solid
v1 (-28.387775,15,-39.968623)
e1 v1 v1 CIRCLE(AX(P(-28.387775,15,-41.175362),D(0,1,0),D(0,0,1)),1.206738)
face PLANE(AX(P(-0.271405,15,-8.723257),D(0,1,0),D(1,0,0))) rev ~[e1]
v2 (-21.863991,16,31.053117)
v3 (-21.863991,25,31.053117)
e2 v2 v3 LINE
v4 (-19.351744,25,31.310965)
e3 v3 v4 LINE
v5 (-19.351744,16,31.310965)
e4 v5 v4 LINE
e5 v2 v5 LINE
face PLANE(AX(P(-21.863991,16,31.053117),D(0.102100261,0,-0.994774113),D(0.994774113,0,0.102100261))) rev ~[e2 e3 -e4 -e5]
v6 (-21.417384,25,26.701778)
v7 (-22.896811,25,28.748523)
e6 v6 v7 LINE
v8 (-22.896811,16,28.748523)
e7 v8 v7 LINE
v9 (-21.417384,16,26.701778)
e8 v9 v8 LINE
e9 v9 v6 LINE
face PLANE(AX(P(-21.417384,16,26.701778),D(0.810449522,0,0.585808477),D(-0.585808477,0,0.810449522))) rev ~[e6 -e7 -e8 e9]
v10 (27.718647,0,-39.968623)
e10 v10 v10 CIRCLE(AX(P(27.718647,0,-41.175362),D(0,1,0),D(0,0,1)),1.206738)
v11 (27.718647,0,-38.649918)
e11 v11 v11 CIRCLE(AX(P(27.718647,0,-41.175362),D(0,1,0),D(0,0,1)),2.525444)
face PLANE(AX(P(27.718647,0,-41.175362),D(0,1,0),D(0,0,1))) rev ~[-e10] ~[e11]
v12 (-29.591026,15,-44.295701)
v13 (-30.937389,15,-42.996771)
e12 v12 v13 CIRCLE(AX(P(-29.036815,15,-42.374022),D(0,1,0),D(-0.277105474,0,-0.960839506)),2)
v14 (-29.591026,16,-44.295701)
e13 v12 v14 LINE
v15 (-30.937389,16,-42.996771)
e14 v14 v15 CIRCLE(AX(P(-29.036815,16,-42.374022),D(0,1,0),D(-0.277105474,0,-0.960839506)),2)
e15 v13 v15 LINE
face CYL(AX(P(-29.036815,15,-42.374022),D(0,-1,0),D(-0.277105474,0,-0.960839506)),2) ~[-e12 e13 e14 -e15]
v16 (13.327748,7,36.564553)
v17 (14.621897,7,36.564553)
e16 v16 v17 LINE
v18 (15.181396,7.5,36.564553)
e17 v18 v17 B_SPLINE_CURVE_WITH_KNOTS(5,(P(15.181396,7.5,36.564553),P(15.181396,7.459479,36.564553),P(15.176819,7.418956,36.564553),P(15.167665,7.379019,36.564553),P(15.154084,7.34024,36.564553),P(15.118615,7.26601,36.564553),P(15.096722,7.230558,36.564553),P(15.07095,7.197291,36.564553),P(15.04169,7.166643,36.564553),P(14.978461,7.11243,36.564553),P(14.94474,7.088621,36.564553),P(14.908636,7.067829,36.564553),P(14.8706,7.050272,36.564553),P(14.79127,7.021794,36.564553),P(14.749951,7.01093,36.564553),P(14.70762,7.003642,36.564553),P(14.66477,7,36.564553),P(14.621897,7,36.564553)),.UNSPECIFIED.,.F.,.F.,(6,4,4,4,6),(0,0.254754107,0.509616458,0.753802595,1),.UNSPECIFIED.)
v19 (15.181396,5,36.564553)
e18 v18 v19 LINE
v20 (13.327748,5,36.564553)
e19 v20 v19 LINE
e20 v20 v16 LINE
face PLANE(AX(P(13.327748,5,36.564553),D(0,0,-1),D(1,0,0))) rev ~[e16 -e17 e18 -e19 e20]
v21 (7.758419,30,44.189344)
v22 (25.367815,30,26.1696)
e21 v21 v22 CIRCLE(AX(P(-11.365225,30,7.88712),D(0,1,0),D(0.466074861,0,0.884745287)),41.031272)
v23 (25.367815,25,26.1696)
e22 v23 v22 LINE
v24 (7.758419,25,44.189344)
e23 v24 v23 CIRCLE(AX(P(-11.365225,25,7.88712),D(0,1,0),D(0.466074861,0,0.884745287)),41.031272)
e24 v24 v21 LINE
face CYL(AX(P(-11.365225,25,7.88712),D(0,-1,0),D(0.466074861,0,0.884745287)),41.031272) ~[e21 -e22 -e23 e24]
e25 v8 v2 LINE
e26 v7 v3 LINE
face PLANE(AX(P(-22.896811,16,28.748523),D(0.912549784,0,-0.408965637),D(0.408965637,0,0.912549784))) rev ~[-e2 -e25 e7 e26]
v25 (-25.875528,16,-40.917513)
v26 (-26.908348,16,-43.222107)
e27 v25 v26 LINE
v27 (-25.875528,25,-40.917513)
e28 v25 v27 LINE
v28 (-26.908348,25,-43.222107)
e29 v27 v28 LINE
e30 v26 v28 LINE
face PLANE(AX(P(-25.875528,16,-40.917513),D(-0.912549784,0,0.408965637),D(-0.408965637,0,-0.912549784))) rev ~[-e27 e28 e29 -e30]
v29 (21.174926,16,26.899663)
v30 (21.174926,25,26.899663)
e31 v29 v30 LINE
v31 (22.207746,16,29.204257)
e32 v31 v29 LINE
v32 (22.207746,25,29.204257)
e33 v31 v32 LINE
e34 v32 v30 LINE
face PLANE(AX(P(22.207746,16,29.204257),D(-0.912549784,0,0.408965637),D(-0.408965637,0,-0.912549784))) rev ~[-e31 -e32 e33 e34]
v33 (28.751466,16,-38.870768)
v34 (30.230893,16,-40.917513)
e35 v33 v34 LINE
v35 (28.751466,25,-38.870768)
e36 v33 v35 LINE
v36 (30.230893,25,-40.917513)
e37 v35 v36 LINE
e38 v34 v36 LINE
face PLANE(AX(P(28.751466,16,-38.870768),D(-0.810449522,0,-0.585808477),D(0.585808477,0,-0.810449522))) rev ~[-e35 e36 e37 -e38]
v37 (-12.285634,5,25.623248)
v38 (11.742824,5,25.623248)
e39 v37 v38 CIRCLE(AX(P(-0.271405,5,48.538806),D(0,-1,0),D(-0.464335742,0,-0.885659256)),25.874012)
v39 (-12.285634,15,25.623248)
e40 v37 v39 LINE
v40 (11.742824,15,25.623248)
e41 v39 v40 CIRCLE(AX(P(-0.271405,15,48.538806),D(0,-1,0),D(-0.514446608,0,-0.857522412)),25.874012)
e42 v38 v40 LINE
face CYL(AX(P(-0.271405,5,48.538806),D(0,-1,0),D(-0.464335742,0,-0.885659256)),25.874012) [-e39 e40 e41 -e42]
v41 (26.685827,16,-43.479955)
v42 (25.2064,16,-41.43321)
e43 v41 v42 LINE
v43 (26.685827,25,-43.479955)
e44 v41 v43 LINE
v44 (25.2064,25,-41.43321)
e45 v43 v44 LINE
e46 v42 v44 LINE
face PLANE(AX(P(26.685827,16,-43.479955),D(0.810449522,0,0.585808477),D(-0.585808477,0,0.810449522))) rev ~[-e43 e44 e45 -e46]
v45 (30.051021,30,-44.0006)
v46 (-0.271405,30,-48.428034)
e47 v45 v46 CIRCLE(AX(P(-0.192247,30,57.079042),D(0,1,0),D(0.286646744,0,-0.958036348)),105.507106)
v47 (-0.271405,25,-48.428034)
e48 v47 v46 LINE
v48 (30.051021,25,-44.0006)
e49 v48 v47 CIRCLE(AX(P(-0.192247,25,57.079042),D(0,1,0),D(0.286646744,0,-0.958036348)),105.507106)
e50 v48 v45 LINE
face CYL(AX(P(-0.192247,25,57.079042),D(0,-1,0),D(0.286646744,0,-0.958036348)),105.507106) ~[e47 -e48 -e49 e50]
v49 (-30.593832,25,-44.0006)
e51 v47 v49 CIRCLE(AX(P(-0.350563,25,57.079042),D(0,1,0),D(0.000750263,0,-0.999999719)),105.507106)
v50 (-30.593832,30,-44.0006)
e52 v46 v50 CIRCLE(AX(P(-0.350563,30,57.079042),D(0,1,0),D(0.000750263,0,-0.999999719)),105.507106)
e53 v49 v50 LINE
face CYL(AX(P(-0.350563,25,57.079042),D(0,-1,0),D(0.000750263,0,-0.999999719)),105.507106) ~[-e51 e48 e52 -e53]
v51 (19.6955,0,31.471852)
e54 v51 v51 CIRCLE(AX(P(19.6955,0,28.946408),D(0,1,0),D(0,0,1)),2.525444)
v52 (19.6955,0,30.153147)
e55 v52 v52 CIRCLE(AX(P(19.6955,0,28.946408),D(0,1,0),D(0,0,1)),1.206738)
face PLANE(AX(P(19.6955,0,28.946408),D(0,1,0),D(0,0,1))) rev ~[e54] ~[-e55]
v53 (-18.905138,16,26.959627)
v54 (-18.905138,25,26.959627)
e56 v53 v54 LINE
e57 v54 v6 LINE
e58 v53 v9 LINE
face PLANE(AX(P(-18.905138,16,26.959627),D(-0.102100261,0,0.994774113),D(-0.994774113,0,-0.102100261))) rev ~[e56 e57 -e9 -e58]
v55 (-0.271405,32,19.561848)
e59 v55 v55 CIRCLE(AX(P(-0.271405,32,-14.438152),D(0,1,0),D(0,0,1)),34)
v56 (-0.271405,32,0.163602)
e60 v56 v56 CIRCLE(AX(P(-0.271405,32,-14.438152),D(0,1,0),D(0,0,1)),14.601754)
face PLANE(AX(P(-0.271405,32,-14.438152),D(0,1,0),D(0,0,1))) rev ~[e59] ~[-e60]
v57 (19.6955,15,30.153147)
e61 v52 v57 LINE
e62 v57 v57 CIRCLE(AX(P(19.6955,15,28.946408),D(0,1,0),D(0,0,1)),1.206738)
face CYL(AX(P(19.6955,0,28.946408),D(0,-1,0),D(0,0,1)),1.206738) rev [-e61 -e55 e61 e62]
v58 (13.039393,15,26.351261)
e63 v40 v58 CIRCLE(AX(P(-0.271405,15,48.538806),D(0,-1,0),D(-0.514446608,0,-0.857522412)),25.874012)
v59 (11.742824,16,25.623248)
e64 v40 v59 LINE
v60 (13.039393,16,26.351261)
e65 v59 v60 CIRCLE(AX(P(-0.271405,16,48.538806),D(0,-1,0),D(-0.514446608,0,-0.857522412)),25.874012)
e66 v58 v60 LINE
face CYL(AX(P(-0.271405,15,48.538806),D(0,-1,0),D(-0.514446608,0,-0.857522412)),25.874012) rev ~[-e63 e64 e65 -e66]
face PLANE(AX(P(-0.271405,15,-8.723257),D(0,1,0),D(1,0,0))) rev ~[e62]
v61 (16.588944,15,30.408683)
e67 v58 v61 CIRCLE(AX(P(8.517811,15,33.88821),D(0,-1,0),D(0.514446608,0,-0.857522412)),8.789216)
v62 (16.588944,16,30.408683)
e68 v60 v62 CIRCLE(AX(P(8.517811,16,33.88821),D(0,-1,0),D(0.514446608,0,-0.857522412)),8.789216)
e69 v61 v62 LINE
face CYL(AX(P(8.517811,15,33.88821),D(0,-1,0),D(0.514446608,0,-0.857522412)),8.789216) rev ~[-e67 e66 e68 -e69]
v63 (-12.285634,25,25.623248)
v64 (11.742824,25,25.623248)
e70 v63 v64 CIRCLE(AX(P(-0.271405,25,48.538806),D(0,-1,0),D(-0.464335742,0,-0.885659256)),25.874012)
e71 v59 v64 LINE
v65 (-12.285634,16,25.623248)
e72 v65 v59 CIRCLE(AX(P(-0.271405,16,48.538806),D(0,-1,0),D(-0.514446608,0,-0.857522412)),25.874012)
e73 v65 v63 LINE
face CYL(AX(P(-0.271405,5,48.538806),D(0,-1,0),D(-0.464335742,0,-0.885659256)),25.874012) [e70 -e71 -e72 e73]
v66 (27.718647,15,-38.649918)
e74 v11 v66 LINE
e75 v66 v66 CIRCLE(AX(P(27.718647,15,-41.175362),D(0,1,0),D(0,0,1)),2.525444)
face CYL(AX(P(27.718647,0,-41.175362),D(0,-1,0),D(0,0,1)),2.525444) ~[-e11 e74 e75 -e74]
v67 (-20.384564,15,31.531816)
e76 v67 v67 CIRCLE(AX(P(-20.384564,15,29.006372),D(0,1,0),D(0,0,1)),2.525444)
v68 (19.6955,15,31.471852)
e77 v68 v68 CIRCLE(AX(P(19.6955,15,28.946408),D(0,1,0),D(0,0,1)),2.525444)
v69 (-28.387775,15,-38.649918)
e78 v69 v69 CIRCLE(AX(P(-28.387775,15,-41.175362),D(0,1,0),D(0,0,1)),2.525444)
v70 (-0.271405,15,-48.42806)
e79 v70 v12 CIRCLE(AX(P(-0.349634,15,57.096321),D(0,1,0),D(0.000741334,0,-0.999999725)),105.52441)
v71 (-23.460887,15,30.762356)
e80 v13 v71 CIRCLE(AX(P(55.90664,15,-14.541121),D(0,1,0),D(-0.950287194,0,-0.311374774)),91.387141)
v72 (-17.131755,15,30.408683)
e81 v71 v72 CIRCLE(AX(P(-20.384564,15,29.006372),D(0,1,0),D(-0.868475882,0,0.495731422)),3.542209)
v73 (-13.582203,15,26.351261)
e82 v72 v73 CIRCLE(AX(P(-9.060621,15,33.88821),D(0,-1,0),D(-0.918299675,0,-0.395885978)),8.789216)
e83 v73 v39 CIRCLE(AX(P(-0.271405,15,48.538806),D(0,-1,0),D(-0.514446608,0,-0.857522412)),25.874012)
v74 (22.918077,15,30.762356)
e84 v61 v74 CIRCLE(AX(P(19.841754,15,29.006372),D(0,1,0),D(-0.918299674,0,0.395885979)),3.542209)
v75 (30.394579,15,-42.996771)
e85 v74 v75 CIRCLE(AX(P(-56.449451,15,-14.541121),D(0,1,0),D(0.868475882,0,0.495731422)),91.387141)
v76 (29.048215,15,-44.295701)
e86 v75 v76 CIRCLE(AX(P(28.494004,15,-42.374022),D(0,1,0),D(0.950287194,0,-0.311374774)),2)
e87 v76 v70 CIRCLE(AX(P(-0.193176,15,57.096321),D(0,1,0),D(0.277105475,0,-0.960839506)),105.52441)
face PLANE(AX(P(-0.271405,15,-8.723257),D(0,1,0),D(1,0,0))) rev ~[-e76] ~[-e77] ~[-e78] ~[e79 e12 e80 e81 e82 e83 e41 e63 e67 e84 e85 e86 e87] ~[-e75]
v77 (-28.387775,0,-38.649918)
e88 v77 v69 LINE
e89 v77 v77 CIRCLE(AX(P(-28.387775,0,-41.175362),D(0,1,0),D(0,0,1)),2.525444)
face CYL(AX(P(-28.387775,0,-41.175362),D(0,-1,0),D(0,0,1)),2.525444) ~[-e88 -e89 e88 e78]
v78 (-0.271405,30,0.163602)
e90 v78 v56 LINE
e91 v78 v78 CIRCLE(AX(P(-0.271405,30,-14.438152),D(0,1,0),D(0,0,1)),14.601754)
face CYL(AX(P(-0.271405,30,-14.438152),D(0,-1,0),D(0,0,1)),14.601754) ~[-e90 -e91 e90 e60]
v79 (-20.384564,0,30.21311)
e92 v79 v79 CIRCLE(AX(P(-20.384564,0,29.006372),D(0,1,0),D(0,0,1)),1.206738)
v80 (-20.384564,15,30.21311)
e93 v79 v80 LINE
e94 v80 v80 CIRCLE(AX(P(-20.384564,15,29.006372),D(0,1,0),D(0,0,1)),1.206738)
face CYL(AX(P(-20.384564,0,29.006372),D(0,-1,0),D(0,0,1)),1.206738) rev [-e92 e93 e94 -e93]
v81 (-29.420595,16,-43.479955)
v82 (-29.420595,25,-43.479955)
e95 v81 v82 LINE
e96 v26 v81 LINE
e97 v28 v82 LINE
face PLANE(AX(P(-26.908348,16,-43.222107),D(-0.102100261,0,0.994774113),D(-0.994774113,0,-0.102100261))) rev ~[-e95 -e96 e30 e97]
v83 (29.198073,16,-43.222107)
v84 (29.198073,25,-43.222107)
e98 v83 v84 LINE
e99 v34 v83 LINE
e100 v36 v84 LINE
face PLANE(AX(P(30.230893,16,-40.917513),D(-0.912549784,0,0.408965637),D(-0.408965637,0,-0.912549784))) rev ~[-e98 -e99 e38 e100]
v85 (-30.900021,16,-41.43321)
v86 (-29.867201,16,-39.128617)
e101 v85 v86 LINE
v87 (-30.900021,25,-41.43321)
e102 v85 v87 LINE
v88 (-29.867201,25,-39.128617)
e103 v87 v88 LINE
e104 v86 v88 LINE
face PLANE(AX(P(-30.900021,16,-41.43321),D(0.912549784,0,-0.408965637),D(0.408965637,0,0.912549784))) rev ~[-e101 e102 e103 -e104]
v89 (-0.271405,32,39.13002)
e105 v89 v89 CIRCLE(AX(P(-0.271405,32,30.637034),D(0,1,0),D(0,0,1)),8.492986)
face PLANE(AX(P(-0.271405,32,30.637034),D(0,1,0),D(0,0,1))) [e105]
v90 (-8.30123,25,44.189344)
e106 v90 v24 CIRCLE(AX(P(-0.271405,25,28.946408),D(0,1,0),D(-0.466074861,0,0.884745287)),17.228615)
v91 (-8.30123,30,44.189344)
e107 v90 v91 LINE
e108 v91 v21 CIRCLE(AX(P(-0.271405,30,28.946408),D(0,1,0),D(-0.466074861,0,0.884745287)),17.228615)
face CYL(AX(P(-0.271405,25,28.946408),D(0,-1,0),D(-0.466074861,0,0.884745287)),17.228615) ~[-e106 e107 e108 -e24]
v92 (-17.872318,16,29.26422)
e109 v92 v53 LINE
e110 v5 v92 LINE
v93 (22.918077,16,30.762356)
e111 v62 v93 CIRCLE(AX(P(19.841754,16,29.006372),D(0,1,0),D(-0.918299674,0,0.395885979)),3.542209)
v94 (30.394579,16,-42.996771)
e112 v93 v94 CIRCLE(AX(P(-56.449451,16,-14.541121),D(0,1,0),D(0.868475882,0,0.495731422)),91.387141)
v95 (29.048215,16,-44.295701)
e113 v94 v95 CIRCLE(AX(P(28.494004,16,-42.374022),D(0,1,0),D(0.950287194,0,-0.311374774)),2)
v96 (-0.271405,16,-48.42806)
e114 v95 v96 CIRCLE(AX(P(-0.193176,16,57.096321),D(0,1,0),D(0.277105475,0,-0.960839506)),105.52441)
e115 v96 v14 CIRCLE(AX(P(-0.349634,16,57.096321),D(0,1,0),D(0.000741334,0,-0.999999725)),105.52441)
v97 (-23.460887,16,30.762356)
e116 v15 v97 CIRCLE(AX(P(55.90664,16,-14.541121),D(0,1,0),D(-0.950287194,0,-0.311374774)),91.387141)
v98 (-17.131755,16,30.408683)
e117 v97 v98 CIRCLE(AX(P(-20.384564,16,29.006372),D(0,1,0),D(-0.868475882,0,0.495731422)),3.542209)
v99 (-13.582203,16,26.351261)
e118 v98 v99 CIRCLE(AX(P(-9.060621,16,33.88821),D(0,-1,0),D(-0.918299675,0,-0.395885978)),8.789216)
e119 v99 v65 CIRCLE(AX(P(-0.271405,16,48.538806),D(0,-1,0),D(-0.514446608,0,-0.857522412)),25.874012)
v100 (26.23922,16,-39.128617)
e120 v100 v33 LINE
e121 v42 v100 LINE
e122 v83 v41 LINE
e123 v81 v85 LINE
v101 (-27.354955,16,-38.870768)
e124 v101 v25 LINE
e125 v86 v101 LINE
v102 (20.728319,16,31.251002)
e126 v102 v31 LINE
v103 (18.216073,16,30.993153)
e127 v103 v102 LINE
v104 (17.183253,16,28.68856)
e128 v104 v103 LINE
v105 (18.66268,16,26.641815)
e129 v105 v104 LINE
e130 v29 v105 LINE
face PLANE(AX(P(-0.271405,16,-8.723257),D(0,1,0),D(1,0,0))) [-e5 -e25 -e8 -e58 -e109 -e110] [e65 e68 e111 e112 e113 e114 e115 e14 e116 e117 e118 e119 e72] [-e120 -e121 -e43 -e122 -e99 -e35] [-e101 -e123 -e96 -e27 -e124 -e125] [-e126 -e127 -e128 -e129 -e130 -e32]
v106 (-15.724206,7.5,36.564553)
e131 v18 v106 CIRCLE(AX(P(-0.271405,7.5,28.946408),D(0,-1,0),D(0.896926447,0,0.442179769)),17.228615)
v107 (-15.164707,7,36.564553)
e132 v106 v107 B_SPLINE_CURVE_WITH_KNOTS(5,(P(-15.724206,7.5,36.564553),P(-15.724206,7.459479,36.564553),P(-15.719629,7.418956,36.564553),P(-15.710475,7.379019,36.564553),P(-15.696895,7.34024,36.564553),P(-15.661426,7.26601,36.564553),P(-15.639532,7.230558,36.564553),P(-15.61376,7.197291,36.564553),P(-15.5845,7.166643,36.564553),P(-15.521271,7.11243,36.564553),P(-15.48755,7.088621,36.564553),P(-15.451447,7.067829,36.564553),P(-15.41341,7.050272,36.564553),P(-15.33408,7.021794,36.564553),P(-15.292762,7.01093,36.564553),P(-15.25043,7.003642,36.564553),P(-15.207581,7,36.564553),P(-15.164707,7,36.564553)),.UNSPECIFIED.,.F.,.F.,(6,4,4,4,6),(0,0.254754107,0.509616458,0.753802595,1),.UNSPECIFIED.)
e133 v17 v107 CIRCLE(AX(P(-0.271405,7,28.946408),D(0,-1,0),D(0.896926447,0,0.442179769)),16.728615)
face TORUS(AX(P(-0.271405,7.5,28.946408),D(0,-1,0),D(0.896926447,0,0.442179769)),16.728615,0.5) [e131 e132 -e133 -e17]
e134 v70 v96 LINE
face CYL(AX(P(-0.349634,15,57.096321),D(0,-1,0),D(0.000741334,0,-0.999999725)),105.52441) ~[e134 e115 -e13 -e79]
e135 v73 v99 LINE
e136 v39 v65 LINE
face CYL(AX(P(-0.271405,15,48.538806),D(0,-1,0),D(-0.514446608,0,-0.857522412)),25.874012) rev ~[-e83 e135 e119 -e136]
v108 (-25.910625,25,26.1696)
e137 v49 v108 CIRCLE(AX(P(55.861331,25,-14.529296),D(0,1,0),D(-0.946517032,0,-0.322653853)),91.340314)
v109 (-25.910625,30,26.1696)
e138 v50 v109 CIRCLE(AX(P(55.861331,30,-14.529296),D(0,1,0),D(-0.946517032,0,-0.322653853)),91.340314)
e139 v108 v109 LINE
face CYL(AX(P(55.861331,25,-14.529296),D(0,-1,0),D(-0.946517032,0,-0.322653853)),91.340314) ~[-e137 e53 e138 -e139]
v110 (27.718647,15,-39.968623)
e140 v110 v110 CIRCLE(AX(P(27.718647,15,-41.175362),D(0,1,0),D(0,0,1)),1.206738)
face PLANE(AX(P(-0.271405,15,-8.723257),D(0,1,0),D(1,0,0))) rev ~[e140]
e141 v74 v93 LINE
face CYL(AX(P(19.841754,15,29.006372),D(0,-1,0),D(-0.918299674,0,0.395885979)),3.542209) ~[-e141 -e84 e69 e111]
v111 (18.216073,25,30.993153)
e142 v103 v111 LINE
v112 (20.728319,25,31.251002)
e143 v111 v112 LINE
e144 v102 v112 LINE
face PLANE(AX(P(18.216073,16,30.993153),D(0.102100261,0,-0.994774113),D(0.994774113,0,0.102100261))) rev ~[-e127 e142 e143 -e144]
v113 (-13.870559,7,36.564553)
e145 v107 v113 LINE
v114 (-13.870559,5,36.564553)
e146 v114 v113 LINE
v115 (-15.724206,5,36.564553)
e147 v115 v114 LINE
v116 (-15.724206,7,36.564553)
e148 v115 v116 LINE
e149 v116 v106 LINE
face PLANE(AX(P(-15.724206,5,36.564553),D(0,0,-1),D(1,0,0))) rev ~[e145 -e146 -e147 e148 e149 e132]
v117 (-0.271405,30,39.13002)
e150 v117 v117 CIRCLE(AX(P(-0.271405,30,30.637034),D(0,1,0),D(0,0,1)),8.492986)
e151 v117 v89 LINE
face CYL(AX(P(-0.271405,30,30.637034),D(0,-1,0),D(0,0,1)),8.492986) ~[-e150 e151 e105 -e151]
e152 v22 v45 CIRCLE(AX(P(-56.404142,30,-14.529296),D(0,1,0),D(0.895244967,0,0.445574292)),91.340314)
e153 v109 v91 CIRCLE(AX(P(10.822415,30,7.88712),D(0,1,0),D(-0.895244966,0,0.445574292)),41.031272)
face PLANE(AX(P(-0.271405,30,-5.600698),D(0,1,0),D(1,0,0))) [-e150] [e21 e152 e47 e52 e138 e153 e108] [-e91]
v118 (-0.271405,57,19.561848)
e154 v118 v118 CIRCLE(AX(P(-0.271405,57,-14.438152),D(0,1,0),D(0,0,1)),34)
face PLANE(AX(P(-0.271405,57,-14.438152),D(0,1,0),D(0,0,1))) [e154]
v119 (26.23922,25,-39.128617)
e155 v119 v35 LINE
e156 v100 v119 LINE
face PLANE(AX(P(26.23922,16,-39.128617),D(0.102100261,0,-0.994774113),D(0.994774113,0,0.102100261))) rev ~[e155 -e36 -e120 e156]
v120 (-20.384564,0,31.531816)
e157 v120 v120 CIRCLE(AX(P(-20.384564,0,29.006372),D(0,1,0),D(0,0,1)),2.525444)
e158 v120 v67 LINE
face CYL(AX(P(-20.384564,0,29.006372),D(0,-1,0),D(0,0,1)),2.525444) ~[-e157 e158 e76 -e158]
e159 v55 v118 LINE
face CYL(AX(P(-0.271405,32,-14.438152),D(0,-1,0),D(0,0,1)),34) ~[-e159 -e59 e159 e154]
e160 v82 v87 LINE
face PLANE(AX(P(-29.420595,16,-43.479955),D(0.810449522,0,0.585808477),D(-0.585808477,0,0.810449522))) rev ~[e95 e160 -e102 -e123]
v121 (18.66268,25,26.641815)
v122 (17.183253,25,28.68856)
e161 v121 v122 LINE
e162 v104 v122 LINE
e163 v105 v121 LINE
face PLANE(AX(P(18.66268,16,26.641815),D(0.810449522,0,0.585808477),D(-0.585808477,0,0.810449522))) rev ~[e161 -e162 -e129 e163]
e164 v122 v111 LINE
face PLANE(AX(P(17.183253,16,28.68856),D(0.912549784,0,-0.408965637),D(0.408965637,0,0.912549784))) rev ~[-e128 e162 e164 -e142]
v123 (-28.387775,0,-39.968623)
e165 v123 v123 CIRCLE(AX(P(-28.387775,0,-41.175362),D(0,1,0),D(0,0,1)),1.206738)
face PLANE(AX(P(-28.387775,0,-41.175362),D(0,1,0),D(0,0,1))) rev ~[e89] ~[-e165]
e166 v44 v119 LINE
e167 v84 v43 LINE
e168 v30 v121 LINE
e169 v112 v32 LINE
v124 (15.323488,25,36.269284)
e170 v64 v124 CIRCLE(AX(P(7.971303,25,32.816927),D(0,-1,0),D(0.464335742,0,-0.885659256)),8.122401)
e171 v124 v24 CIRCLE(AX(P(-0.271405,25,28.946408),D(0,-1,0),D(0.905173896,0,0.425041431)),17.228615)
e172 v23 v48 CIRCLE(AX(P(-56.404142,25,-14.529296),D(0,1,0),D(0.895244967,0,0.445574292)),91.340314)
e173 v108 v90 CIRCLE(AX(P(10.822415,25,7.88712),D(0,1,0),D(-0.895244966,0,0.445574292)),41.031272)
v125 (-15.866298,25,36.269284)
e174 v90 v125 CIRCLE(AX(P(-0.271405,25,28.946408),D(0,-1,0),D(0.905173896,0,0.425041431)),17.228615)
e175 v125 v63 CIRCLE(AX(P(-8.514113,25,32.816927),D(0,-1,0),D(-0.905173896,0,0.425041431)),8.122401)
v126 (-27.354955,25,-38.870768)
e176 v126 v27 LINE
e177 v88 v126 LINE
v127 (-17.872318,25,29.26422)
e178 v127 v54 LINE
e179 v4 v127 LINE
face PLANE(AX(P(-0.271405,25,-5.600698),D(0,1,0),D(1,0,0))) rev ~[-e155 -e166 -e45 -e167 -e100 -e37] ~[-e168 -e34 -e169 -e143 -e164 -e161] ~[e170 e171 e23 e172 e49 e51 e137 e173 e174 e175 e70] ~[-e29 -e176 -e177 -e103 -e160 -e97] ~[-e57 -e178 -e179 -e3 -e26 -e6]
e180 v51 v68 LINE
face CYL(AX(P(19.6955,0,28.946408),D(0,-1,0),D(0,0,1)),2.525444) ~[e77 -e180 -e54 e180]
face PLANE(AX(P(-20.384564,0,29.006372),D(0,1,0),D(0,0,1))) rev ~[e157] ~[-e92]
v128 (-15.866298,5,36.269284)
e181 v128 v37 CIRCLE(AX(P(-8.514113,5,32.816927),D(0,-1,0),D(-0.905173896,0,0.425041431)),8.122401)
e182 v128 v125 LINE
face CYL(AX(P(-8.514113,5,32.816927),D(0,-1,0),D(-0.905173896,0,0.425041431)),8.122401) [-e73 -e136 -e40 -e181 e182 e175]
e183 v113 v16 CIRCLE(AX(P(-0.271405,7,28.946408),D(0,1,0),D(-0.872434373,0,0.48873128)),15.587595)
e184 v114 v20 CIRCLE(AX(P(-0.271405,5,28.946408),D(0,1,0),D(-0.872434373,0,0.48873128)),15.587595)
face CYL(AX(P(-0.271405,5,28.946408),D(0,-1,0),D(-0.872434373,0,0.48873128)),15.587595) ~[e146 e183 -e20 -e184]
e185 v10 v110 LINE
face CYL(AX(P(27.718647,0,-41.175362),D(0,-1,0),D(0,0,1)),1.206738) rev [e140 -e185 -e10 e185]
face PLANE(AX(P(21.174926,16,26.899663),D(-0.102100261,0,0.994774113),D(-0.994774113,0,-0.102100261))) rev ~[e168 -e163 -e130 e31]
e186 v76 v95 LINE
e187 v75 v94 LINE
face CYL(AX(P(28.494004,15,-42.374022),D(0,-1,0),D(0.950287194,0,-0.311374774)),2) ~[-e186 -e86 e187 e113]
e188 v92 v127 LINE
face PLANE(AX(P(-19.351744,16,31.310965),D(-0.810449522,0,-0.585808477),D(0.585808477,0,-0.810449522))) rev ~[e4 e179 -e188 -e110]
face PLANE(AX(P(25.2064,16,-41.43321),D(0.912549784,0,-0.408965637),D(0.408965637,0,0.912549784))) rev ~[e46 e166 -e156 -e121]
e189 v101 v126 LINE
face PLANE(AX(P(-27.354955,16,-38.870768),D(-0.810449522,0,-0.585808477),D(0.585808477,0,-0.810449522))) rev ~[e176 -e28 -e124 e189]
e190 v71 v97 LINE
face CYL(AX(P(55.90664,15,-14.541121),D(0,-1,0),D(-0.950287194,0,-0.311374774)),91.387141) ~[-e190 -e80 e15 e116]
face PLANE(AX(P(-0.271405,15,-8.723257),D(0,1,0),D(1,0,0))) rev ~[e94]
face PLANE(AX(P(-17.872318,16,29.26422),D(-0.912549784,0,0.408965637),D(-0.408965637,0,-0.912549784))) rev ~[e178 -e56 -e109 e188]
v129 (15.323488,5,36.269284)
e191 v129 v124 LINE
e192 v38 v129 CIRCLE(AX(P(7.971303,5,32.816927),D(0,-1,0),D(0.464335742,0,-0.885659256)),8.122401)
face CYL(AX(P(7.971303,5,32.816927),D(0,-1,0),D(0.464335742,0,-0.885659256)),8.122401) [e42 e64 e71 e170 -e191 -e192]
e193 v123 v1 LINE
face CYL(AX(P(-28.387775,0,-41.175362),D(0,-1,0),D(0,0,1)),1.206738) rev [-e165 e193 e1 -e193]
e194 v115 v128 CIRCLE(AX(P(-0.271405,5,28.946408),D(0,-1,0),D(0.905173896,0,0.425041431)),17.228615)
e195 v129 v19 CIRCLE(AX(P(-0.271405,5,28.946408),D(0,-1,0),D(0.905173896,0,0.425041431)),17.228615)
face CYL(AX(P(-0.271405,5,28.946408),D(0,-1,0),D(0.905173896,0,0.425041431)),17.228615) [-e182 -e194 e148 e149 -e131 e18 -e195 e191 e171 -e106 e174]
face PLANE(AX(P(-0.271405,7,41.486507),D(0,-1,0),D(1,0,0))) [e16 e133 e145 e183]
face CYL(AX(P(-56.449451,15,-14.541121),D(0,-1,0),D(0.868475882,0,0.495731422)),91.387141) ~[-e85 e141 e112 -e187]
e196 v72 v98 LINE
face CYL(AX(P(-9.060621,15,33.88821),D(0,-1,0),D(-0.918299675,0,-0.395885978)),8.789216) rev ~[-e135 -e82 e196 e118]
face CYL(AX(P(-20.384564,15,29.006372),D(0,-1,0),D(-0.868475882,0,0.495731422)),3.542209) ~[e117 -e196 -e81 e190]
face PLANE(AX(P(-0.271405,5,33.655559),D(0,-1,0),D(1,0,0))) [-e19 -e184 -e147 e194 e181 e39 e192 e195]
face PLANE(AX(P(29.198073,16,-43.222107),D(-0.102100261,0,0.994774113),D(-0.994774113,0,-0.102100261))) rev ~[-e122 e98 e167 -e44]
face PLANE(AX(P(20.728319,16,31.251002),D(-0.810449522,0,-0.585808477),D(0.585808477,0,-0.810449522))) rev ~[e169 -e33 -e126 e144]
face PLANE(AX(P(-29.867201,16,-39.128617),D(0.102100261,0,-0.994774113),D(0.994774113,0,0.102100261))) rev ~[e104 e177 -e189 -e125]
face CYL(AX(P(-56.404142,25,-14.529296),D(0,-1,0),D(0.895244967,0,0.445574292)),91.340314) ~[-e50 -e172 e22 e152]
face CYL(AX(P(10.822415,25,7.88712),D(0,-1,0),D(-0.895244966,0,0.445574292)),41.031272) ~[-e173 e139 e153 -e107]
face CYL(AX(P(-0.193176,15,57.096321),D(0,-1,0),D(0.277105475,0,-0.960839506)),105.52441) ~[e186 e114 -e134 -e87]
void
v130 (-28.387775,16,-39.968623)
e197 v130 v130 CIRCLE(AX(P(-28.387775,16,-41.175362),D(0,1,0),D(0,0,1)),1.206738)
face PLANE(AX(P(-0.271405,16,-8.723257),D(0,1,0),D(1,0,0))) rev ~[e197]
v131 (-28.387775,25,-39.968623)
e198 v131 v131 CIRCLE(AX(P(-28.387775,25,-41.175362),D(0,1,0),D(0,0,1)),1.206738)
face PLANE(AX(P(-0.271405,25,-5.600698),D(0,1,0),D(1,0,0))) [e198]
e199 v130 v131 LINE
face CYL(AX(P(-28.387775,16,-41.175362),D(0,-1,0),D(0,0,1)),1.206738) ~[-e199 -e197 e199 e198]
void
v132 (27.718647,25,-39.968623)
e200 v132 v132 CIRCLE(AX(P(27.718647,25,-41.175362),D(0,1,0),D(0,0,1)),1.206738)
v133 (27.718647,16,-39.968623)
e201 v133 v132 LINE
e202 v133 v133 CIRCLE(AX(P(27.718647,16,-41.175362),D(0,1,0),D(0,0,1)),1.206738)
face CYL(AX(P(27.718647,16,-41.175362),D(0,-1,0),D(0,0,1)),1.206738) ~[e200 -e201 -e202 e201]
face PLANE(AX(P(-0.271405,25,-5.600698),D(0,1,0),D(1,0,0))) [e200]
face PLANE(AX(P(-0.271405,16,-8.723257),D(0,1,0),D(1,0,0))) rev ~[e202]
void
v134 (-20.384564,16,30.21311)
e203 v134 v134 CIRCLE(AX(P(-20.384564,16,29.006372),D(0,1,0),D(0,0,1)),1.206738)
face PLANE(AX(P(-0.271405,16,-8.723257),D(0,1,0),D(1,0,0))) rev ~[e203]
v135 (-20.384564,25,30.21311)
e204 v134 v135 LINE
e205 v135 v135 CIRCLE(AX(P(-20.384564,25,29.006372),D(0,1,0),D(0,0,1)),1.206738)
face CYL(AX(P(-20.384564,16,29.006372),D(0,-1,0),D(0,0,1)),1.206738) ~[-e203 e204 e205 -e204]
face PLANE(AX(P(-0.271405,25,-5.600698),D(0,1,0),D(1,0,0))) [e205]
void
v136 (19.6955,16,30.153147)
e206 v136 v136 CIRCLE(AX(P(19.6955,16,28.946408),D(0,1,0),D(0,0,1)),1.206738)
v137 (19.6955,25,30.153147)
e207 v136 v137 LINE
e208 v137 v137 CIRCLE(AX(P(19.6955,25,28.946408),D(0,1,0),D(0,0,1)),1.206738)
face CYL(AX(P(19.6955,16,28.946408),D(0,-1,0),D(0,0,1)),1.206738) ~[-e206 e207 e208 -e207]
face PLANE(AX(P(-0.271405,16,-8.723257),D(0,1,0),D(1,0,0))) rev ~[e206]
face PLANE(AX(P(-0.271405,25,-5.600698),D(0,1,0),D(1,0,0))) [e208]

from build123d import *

# Parameters (mm, degrees)
SKETCH_1_R          = 2.525444103
SKETCH_1_R_2        = 1.206738485
EXTRUDE_1_DEPTH     = 15
EXTRUDE_1_2_DEPTH   = 15
EXTRUDE_1_3_DEPTH   = 15
EXTRUDE_1_4_DEPTH   = 15
EXTRUDE_2_DEPTH     = 1
SKETCH_3_R          = 1.206738485
EXTRUDE_3_DEPTH     = 9
EXTRUDE_4_DEPTH     = 5
EXTRUDE_START       = 20
EXTRUDE_5_DEPTH     = 20
CUT_EXTRUDE_1_DEPTH = 2
FILLET_1_R          = 0.5
SKETCH_7_R          = 14.601754061
SKETCH_7_R_2        = 8.492985931
EXTRUDE_6_DEPTH     = 2
SKETCH_8_R          = 34
EXTRUDE_7_DEPTH     = 25


with BuildPart() as part:
    # 草图1 → 凸台-拉伸1 (new body)
    with BuildSketch(Plane(origin=(0, 0, 0), x_dir=(1, 0, 0), z_dir=(0, 1, 0))):
        with Locations(Location((-28.387774848, 41.175361777, 0), (0, 0, 270))):
            Circle(SKETCH_1_R)
        with Locations(Location((-28.387774848, 41.175361777, 0), (0, 0, 270))):
            Circle(SKETCH_1_R_2, mode=Mode.SUBTRACT)
    extrude(amount=EXTRUDE_1_DEPTH)



with BuildPart() as body_2:
    # 草图1 → Extrude 1 2 (new body)
    with BuildSketch(Plane(origin=(0, 0, 0), x_dir=(1, 0, 0), z_dir=(0, 1, 0))):
        with Locations(Location((27.718646552, 41.175361777, 0), (0, 0, 270))):
            Circle(SKETCH_1_R)
        with Locations(Location((27.718646552, 41.175361777, 0), (0, 0, 270))):
            Circle(SKETCH_1_R_2, mode=Mode.SUBTRACT)
    extrude(amount=EXTRUDE_1_2_DEPTH)


with BuildPart() as body_3:
    # 草图1 → Extrude 1 3 (new body)
    with BuildSketch(Plane(origin=(0, 0, 0), x_dir=(1, 0, 0), z_dir=(0, 1, 0))):
        with Locations(Location((19.695499635, -28.946408229, 0), (0, 0, 270))):
            Circle(SKETCH_1_R)
        with Locations(Location((19.695499635, -28.946408229, 0), (0, 0, 270))):
            Circle(SKETCH_1_R_2, mode=Mode.SUBTRACT)
    extrude(amount=EXTRUDE_1_3_DEPTH)


with BuildPart() as body_4:
    # 草图1 → Extrude 1 4 (new body)
    with BuildSketch(Plane(origin=(0, 0, 0), x_dir=(1, 0, 0), z_dir=(0, 1, 0))):
        with Locations(Location((-20.384564295, -29.006371883, 0), (0, 0, 270))):
            Circle(SKETCH_1_R)
        with Locations(Location((-20.384564295, -29.006371883, 0), (0, 0, 270))):
            Circle(SKETCH_1_R_2, mode=Mode.SUBTRACT)
    extrude(amount=EXTRUDE_1_4_DEPTH)


with BuildPart() as part_1:
    add(part.part)

    add(body_2.part)  # 凸台-拉伸2 merges body 2

    add(body_3.part)  # 凸台-拉伸2 merges body 3

    add(body_4.part)  # 凸台-拉伸2 merges body 4
    # 草图2 → 凸台-拉伸2 (add)
    with BuildSketch(Plane(origin=(0, 15, 0), x_dir=(1, 0, 0), z_dir=(0, 1, 0))):
        with BuildLine():
            ThreePointArc((-0.271405212, 48.428059813), (-15.076874658, 47.395350678), (-29.591025821, 44.295700747))
            ThreePointArc((-29.591025821, 44.295700747), (-30.425446284, 43.813362835), (-30.937389258, 42.996771284))
            ThreePointArc((-30.937389258, 42.996771284), (-35.014604001, 5.325002623), (-23.460887401, -30.7623562))
            ThreePointArc((-23.460887401, -30.7623562), (-20.186933133, -32.543063374), (-17.131754901, -30.40868277))
            ThreePointArc((-17.131754901, -30.40868277), (-15.675739537, -28.10111065), (-13.582203175, -26.351260562))
            ThreePointArc((-13.582203175, -26.351260562), (-0.271405212, -22.664793676), (13.039392752, -26.351260562))
            ThreePointArc((13.039392752, -26.351260562), (15.132929113, -28.10111065), (16.588944478, -30.40868277))
            ThreePointArc((16.588944478, -30.40868277), (19.644122709, -32.543063374), (22.918076977, -30.7623562))
            ThreePointArc((22.918076977, -30.7623562), (34.471793578, 5.325002623), (30.394578834, 42.996771284))
            ThreePointArc((30.394578834, 42.996771284), (29.88263586, 43.813362835), (29.048215398, 44.295700747))
            ThreePointArc((29.048215398, 44.295700747), (14.534064235, 47.395350678), (-0.271405212, 48.428059813))
        make_face()
    extrude(amount=EXTRUDE_2_DEPTH)

    # 草图3 → 凸台-拉伸3 (add)
    # profile 1 of 4: a face of its own
    with BuildSketch(Plane(origin=(0, 16, 0), x_dir=(1, 0, 0), z_dir=(0, 1, 0))):
        Polygon((22.207746053, -29.204256732), (21.174926198, -26.899663262), (18.66267978, -26.641814759), (17.183253217, -28.688559726), (18.216073072, -30.993153196), (20.72831949, -31.251001699), align=None)
        with Locations(Location((19.695499635, -28.946408229, 0), (0, 0, 270))):
            Circle(SKETCH_3_R, mode=Mode.SUBTRACT)
    # profile 2 of 4: a face of its own
    with BuildSketch(Plane(origin=(0, 16, 0), x_dir=(1, 0, 0), z_dir=(0, 1, 0))):
        Polygon((-18.905137732, -26.959626916), (-21.41738415, -26.701778413), (-22.896810713, -28.74852338), (-21.863990858, -31.05311685), (-19.35174444, -31.310965353), (-17.872317877, -29.264220386), align=None)
        with Locations(Location((-20.384564295, -29.006371883, 0), (0, 0, 270))):
            Circle(SKETCH_3_R, mode=Mode.SUBTRACT)
    # profile 3 of 4: a face of its own
    with BuildSketch(Plane(origin=(0, 16, 0), x_dir=(1, 0, 0), z_dir=(0, 1, 0))):
        Polygon((26.685826697, 43.479955247), (25.206400134, 41.43321028), (26.239219989, 39.12861681), (28.751466407, 38.870768307), (30.23089297, 40.917513274), (29.198073115, 43.222106744), align=None)
        with Locations(Location((27.718646552, 41.175361777, 0), (0, 0, 270))):
            Circle(SKETCH_3_R, mode=Mode.SUBTRACT)
    # profile 4 of 4: a face of its own
    with BuildSketch(Plane(origin=(0, 16, 0), x_dir=(1, 0, 0), z_dir=(0, 1, 0))):
        Polygon((-30.900021266, 41.43321028), (-29.867201411, 39.12861681), (-27.354954993, 38.870768307), (-25.87552843, 40.917513274), (-26.908348285, 43.222106744), (-29.420594703, 43.479955247), align=None)
        with Locations(Location((-28.387774848, 41.175361777, 0), (0, 0, 270))):
            Circle(SKETCH_3_R, mode=Mode.SUBTRACT)
    extrude(amount=EXTRUDE_3_DEPTH)

    # 草图4 → 凸台-拉伸4 (add)
    with BuildSketch(Plane(origin=(0, 25, 0), x_dir=(1, 0, 0), z_dir=(0, 1, 0))):
        with BuildLine():
            ThreePointArc((-0.271405212, 48.428034147), (-15.594215434, 47.321055953), (-30.593831711, 44.000600361))
            ThreePointArc((-30.593831711, 44.000600361), (-35.27623055, 8.446713655), (-25.910625184, -26.169599767))
            ThreePointArc((-25.910625184, -26.169599767), (-18.523285067, -36.56455338), (-8.301229723, -44.18934447))
            ThreePointArc((-8.301229723, -44.18934447), (-0.271405212, -46.17502358), (7.758419299, -44.18934447))
            ThreePointArc((7.758419299, -44.18934447), (17.980474644, -36.56455338), (25.36781476, -26.169599767))
            ThreePointArc((25.36781476, -26.169599767), (34.733420126, 8.446713655), (30.051021288, 44.000600361))
            ThreePointArc((30.051021288, 44.000600361), (15.05140501, 47.321055953), (-0.271405212, 48.428034147))
        make_face()
    extrude(amount=EXTRUDE_4_DEPTH)

    # 草图5 → 凸台-拉伸5 (add)
    with BuildSketch(Plane.XZ.offset(-25).offset(EXTRUDE_START)):
        with BuildLine():
            ThreePointArc((15.323487668, 36.26928355), (-0.271405212, 46.17502358), (-15.866298092, 36.26928355))
            ThreePointArc((-15.866298092, 36.26928355), (-16.212731749, 30.227590505), (-12.285634009, 25.623247505))
            ThreePointArc((-12.285634009, 25.623247505), (-0.271405212, 22.664793676), (11.742823586, 25.623247505))
            ThreePointArc((11.742823586, 25.623247505), (15.669921326, 30.227590505), (15.323487668, 36.26928355))
        make_face()
    extrude(amount=-EXTRUDE_5_DEPTH)

    # 草图6 → 切除-拉伸1 (cut)
    with BuildSketch(Plane.XZ.offset(-5)):
        with BuildLine():
            Line((-15.724205973, 36.56455338), (-13.8705587, 36.56455338))
            ThreePointArc((-13.8705587, 36.56455338), (-0.271405212, 44.534003013), (13.327748276, 36.56455338))
            Line((13.327748276, 36.56455338), (15.18139555, 36.56455338))
            ThreePointArc((15.18139555, 36.56455338), (-0.271405212, 46.17502358), (-15.724205973, 36.56455338))
        make_face()
    extrude(amount=-CUT_EXTRUDE_1_DEPTH, mode=Mode.SUBTRACT)

    # 圆角1
    fillet_1_edges = [part_1.edges().sort_by_distance(p)[0] for p in [
        (-0.271405212, 7, 46.17502358),
    ]]
    fillet(fillet_1_edges, radius=FILLET_1_R)

    # 草图7 → 凸台-拉伸6 (add)
    with BuildSketch(Plane(origin=(0, 30, 0), x_dir=(1, 0, 0), z_dir=(0, 1, 0))):
        with Locations(Location((-0.271405212, 14.438151783, 0), (0, 0, 270))):
            Circle(SKETCH_7_R)
        with Locations(Location((-0.271405212, -30.637034449, 0), (0, 0, 270))):
            Circle(SKETCH_7_R_2)
    extrude(amount=EXTRUDE_6_DEPTH)

    # 草图8 → 凸台-拉伸7 (add)
    with BuildSketch(Plane(origin=(0, 32, 0), x_dir=(1, 0, 0), z_dir=(0, 1, 0))):
        with Locations(Location((-0.271405212, 14.438151783, 0), (0, 0, 270))):
            Circle(SKETCH_8_R)
    extrude(amount=EXTRUDE_7_DEPTH)


solid = part_1.part
